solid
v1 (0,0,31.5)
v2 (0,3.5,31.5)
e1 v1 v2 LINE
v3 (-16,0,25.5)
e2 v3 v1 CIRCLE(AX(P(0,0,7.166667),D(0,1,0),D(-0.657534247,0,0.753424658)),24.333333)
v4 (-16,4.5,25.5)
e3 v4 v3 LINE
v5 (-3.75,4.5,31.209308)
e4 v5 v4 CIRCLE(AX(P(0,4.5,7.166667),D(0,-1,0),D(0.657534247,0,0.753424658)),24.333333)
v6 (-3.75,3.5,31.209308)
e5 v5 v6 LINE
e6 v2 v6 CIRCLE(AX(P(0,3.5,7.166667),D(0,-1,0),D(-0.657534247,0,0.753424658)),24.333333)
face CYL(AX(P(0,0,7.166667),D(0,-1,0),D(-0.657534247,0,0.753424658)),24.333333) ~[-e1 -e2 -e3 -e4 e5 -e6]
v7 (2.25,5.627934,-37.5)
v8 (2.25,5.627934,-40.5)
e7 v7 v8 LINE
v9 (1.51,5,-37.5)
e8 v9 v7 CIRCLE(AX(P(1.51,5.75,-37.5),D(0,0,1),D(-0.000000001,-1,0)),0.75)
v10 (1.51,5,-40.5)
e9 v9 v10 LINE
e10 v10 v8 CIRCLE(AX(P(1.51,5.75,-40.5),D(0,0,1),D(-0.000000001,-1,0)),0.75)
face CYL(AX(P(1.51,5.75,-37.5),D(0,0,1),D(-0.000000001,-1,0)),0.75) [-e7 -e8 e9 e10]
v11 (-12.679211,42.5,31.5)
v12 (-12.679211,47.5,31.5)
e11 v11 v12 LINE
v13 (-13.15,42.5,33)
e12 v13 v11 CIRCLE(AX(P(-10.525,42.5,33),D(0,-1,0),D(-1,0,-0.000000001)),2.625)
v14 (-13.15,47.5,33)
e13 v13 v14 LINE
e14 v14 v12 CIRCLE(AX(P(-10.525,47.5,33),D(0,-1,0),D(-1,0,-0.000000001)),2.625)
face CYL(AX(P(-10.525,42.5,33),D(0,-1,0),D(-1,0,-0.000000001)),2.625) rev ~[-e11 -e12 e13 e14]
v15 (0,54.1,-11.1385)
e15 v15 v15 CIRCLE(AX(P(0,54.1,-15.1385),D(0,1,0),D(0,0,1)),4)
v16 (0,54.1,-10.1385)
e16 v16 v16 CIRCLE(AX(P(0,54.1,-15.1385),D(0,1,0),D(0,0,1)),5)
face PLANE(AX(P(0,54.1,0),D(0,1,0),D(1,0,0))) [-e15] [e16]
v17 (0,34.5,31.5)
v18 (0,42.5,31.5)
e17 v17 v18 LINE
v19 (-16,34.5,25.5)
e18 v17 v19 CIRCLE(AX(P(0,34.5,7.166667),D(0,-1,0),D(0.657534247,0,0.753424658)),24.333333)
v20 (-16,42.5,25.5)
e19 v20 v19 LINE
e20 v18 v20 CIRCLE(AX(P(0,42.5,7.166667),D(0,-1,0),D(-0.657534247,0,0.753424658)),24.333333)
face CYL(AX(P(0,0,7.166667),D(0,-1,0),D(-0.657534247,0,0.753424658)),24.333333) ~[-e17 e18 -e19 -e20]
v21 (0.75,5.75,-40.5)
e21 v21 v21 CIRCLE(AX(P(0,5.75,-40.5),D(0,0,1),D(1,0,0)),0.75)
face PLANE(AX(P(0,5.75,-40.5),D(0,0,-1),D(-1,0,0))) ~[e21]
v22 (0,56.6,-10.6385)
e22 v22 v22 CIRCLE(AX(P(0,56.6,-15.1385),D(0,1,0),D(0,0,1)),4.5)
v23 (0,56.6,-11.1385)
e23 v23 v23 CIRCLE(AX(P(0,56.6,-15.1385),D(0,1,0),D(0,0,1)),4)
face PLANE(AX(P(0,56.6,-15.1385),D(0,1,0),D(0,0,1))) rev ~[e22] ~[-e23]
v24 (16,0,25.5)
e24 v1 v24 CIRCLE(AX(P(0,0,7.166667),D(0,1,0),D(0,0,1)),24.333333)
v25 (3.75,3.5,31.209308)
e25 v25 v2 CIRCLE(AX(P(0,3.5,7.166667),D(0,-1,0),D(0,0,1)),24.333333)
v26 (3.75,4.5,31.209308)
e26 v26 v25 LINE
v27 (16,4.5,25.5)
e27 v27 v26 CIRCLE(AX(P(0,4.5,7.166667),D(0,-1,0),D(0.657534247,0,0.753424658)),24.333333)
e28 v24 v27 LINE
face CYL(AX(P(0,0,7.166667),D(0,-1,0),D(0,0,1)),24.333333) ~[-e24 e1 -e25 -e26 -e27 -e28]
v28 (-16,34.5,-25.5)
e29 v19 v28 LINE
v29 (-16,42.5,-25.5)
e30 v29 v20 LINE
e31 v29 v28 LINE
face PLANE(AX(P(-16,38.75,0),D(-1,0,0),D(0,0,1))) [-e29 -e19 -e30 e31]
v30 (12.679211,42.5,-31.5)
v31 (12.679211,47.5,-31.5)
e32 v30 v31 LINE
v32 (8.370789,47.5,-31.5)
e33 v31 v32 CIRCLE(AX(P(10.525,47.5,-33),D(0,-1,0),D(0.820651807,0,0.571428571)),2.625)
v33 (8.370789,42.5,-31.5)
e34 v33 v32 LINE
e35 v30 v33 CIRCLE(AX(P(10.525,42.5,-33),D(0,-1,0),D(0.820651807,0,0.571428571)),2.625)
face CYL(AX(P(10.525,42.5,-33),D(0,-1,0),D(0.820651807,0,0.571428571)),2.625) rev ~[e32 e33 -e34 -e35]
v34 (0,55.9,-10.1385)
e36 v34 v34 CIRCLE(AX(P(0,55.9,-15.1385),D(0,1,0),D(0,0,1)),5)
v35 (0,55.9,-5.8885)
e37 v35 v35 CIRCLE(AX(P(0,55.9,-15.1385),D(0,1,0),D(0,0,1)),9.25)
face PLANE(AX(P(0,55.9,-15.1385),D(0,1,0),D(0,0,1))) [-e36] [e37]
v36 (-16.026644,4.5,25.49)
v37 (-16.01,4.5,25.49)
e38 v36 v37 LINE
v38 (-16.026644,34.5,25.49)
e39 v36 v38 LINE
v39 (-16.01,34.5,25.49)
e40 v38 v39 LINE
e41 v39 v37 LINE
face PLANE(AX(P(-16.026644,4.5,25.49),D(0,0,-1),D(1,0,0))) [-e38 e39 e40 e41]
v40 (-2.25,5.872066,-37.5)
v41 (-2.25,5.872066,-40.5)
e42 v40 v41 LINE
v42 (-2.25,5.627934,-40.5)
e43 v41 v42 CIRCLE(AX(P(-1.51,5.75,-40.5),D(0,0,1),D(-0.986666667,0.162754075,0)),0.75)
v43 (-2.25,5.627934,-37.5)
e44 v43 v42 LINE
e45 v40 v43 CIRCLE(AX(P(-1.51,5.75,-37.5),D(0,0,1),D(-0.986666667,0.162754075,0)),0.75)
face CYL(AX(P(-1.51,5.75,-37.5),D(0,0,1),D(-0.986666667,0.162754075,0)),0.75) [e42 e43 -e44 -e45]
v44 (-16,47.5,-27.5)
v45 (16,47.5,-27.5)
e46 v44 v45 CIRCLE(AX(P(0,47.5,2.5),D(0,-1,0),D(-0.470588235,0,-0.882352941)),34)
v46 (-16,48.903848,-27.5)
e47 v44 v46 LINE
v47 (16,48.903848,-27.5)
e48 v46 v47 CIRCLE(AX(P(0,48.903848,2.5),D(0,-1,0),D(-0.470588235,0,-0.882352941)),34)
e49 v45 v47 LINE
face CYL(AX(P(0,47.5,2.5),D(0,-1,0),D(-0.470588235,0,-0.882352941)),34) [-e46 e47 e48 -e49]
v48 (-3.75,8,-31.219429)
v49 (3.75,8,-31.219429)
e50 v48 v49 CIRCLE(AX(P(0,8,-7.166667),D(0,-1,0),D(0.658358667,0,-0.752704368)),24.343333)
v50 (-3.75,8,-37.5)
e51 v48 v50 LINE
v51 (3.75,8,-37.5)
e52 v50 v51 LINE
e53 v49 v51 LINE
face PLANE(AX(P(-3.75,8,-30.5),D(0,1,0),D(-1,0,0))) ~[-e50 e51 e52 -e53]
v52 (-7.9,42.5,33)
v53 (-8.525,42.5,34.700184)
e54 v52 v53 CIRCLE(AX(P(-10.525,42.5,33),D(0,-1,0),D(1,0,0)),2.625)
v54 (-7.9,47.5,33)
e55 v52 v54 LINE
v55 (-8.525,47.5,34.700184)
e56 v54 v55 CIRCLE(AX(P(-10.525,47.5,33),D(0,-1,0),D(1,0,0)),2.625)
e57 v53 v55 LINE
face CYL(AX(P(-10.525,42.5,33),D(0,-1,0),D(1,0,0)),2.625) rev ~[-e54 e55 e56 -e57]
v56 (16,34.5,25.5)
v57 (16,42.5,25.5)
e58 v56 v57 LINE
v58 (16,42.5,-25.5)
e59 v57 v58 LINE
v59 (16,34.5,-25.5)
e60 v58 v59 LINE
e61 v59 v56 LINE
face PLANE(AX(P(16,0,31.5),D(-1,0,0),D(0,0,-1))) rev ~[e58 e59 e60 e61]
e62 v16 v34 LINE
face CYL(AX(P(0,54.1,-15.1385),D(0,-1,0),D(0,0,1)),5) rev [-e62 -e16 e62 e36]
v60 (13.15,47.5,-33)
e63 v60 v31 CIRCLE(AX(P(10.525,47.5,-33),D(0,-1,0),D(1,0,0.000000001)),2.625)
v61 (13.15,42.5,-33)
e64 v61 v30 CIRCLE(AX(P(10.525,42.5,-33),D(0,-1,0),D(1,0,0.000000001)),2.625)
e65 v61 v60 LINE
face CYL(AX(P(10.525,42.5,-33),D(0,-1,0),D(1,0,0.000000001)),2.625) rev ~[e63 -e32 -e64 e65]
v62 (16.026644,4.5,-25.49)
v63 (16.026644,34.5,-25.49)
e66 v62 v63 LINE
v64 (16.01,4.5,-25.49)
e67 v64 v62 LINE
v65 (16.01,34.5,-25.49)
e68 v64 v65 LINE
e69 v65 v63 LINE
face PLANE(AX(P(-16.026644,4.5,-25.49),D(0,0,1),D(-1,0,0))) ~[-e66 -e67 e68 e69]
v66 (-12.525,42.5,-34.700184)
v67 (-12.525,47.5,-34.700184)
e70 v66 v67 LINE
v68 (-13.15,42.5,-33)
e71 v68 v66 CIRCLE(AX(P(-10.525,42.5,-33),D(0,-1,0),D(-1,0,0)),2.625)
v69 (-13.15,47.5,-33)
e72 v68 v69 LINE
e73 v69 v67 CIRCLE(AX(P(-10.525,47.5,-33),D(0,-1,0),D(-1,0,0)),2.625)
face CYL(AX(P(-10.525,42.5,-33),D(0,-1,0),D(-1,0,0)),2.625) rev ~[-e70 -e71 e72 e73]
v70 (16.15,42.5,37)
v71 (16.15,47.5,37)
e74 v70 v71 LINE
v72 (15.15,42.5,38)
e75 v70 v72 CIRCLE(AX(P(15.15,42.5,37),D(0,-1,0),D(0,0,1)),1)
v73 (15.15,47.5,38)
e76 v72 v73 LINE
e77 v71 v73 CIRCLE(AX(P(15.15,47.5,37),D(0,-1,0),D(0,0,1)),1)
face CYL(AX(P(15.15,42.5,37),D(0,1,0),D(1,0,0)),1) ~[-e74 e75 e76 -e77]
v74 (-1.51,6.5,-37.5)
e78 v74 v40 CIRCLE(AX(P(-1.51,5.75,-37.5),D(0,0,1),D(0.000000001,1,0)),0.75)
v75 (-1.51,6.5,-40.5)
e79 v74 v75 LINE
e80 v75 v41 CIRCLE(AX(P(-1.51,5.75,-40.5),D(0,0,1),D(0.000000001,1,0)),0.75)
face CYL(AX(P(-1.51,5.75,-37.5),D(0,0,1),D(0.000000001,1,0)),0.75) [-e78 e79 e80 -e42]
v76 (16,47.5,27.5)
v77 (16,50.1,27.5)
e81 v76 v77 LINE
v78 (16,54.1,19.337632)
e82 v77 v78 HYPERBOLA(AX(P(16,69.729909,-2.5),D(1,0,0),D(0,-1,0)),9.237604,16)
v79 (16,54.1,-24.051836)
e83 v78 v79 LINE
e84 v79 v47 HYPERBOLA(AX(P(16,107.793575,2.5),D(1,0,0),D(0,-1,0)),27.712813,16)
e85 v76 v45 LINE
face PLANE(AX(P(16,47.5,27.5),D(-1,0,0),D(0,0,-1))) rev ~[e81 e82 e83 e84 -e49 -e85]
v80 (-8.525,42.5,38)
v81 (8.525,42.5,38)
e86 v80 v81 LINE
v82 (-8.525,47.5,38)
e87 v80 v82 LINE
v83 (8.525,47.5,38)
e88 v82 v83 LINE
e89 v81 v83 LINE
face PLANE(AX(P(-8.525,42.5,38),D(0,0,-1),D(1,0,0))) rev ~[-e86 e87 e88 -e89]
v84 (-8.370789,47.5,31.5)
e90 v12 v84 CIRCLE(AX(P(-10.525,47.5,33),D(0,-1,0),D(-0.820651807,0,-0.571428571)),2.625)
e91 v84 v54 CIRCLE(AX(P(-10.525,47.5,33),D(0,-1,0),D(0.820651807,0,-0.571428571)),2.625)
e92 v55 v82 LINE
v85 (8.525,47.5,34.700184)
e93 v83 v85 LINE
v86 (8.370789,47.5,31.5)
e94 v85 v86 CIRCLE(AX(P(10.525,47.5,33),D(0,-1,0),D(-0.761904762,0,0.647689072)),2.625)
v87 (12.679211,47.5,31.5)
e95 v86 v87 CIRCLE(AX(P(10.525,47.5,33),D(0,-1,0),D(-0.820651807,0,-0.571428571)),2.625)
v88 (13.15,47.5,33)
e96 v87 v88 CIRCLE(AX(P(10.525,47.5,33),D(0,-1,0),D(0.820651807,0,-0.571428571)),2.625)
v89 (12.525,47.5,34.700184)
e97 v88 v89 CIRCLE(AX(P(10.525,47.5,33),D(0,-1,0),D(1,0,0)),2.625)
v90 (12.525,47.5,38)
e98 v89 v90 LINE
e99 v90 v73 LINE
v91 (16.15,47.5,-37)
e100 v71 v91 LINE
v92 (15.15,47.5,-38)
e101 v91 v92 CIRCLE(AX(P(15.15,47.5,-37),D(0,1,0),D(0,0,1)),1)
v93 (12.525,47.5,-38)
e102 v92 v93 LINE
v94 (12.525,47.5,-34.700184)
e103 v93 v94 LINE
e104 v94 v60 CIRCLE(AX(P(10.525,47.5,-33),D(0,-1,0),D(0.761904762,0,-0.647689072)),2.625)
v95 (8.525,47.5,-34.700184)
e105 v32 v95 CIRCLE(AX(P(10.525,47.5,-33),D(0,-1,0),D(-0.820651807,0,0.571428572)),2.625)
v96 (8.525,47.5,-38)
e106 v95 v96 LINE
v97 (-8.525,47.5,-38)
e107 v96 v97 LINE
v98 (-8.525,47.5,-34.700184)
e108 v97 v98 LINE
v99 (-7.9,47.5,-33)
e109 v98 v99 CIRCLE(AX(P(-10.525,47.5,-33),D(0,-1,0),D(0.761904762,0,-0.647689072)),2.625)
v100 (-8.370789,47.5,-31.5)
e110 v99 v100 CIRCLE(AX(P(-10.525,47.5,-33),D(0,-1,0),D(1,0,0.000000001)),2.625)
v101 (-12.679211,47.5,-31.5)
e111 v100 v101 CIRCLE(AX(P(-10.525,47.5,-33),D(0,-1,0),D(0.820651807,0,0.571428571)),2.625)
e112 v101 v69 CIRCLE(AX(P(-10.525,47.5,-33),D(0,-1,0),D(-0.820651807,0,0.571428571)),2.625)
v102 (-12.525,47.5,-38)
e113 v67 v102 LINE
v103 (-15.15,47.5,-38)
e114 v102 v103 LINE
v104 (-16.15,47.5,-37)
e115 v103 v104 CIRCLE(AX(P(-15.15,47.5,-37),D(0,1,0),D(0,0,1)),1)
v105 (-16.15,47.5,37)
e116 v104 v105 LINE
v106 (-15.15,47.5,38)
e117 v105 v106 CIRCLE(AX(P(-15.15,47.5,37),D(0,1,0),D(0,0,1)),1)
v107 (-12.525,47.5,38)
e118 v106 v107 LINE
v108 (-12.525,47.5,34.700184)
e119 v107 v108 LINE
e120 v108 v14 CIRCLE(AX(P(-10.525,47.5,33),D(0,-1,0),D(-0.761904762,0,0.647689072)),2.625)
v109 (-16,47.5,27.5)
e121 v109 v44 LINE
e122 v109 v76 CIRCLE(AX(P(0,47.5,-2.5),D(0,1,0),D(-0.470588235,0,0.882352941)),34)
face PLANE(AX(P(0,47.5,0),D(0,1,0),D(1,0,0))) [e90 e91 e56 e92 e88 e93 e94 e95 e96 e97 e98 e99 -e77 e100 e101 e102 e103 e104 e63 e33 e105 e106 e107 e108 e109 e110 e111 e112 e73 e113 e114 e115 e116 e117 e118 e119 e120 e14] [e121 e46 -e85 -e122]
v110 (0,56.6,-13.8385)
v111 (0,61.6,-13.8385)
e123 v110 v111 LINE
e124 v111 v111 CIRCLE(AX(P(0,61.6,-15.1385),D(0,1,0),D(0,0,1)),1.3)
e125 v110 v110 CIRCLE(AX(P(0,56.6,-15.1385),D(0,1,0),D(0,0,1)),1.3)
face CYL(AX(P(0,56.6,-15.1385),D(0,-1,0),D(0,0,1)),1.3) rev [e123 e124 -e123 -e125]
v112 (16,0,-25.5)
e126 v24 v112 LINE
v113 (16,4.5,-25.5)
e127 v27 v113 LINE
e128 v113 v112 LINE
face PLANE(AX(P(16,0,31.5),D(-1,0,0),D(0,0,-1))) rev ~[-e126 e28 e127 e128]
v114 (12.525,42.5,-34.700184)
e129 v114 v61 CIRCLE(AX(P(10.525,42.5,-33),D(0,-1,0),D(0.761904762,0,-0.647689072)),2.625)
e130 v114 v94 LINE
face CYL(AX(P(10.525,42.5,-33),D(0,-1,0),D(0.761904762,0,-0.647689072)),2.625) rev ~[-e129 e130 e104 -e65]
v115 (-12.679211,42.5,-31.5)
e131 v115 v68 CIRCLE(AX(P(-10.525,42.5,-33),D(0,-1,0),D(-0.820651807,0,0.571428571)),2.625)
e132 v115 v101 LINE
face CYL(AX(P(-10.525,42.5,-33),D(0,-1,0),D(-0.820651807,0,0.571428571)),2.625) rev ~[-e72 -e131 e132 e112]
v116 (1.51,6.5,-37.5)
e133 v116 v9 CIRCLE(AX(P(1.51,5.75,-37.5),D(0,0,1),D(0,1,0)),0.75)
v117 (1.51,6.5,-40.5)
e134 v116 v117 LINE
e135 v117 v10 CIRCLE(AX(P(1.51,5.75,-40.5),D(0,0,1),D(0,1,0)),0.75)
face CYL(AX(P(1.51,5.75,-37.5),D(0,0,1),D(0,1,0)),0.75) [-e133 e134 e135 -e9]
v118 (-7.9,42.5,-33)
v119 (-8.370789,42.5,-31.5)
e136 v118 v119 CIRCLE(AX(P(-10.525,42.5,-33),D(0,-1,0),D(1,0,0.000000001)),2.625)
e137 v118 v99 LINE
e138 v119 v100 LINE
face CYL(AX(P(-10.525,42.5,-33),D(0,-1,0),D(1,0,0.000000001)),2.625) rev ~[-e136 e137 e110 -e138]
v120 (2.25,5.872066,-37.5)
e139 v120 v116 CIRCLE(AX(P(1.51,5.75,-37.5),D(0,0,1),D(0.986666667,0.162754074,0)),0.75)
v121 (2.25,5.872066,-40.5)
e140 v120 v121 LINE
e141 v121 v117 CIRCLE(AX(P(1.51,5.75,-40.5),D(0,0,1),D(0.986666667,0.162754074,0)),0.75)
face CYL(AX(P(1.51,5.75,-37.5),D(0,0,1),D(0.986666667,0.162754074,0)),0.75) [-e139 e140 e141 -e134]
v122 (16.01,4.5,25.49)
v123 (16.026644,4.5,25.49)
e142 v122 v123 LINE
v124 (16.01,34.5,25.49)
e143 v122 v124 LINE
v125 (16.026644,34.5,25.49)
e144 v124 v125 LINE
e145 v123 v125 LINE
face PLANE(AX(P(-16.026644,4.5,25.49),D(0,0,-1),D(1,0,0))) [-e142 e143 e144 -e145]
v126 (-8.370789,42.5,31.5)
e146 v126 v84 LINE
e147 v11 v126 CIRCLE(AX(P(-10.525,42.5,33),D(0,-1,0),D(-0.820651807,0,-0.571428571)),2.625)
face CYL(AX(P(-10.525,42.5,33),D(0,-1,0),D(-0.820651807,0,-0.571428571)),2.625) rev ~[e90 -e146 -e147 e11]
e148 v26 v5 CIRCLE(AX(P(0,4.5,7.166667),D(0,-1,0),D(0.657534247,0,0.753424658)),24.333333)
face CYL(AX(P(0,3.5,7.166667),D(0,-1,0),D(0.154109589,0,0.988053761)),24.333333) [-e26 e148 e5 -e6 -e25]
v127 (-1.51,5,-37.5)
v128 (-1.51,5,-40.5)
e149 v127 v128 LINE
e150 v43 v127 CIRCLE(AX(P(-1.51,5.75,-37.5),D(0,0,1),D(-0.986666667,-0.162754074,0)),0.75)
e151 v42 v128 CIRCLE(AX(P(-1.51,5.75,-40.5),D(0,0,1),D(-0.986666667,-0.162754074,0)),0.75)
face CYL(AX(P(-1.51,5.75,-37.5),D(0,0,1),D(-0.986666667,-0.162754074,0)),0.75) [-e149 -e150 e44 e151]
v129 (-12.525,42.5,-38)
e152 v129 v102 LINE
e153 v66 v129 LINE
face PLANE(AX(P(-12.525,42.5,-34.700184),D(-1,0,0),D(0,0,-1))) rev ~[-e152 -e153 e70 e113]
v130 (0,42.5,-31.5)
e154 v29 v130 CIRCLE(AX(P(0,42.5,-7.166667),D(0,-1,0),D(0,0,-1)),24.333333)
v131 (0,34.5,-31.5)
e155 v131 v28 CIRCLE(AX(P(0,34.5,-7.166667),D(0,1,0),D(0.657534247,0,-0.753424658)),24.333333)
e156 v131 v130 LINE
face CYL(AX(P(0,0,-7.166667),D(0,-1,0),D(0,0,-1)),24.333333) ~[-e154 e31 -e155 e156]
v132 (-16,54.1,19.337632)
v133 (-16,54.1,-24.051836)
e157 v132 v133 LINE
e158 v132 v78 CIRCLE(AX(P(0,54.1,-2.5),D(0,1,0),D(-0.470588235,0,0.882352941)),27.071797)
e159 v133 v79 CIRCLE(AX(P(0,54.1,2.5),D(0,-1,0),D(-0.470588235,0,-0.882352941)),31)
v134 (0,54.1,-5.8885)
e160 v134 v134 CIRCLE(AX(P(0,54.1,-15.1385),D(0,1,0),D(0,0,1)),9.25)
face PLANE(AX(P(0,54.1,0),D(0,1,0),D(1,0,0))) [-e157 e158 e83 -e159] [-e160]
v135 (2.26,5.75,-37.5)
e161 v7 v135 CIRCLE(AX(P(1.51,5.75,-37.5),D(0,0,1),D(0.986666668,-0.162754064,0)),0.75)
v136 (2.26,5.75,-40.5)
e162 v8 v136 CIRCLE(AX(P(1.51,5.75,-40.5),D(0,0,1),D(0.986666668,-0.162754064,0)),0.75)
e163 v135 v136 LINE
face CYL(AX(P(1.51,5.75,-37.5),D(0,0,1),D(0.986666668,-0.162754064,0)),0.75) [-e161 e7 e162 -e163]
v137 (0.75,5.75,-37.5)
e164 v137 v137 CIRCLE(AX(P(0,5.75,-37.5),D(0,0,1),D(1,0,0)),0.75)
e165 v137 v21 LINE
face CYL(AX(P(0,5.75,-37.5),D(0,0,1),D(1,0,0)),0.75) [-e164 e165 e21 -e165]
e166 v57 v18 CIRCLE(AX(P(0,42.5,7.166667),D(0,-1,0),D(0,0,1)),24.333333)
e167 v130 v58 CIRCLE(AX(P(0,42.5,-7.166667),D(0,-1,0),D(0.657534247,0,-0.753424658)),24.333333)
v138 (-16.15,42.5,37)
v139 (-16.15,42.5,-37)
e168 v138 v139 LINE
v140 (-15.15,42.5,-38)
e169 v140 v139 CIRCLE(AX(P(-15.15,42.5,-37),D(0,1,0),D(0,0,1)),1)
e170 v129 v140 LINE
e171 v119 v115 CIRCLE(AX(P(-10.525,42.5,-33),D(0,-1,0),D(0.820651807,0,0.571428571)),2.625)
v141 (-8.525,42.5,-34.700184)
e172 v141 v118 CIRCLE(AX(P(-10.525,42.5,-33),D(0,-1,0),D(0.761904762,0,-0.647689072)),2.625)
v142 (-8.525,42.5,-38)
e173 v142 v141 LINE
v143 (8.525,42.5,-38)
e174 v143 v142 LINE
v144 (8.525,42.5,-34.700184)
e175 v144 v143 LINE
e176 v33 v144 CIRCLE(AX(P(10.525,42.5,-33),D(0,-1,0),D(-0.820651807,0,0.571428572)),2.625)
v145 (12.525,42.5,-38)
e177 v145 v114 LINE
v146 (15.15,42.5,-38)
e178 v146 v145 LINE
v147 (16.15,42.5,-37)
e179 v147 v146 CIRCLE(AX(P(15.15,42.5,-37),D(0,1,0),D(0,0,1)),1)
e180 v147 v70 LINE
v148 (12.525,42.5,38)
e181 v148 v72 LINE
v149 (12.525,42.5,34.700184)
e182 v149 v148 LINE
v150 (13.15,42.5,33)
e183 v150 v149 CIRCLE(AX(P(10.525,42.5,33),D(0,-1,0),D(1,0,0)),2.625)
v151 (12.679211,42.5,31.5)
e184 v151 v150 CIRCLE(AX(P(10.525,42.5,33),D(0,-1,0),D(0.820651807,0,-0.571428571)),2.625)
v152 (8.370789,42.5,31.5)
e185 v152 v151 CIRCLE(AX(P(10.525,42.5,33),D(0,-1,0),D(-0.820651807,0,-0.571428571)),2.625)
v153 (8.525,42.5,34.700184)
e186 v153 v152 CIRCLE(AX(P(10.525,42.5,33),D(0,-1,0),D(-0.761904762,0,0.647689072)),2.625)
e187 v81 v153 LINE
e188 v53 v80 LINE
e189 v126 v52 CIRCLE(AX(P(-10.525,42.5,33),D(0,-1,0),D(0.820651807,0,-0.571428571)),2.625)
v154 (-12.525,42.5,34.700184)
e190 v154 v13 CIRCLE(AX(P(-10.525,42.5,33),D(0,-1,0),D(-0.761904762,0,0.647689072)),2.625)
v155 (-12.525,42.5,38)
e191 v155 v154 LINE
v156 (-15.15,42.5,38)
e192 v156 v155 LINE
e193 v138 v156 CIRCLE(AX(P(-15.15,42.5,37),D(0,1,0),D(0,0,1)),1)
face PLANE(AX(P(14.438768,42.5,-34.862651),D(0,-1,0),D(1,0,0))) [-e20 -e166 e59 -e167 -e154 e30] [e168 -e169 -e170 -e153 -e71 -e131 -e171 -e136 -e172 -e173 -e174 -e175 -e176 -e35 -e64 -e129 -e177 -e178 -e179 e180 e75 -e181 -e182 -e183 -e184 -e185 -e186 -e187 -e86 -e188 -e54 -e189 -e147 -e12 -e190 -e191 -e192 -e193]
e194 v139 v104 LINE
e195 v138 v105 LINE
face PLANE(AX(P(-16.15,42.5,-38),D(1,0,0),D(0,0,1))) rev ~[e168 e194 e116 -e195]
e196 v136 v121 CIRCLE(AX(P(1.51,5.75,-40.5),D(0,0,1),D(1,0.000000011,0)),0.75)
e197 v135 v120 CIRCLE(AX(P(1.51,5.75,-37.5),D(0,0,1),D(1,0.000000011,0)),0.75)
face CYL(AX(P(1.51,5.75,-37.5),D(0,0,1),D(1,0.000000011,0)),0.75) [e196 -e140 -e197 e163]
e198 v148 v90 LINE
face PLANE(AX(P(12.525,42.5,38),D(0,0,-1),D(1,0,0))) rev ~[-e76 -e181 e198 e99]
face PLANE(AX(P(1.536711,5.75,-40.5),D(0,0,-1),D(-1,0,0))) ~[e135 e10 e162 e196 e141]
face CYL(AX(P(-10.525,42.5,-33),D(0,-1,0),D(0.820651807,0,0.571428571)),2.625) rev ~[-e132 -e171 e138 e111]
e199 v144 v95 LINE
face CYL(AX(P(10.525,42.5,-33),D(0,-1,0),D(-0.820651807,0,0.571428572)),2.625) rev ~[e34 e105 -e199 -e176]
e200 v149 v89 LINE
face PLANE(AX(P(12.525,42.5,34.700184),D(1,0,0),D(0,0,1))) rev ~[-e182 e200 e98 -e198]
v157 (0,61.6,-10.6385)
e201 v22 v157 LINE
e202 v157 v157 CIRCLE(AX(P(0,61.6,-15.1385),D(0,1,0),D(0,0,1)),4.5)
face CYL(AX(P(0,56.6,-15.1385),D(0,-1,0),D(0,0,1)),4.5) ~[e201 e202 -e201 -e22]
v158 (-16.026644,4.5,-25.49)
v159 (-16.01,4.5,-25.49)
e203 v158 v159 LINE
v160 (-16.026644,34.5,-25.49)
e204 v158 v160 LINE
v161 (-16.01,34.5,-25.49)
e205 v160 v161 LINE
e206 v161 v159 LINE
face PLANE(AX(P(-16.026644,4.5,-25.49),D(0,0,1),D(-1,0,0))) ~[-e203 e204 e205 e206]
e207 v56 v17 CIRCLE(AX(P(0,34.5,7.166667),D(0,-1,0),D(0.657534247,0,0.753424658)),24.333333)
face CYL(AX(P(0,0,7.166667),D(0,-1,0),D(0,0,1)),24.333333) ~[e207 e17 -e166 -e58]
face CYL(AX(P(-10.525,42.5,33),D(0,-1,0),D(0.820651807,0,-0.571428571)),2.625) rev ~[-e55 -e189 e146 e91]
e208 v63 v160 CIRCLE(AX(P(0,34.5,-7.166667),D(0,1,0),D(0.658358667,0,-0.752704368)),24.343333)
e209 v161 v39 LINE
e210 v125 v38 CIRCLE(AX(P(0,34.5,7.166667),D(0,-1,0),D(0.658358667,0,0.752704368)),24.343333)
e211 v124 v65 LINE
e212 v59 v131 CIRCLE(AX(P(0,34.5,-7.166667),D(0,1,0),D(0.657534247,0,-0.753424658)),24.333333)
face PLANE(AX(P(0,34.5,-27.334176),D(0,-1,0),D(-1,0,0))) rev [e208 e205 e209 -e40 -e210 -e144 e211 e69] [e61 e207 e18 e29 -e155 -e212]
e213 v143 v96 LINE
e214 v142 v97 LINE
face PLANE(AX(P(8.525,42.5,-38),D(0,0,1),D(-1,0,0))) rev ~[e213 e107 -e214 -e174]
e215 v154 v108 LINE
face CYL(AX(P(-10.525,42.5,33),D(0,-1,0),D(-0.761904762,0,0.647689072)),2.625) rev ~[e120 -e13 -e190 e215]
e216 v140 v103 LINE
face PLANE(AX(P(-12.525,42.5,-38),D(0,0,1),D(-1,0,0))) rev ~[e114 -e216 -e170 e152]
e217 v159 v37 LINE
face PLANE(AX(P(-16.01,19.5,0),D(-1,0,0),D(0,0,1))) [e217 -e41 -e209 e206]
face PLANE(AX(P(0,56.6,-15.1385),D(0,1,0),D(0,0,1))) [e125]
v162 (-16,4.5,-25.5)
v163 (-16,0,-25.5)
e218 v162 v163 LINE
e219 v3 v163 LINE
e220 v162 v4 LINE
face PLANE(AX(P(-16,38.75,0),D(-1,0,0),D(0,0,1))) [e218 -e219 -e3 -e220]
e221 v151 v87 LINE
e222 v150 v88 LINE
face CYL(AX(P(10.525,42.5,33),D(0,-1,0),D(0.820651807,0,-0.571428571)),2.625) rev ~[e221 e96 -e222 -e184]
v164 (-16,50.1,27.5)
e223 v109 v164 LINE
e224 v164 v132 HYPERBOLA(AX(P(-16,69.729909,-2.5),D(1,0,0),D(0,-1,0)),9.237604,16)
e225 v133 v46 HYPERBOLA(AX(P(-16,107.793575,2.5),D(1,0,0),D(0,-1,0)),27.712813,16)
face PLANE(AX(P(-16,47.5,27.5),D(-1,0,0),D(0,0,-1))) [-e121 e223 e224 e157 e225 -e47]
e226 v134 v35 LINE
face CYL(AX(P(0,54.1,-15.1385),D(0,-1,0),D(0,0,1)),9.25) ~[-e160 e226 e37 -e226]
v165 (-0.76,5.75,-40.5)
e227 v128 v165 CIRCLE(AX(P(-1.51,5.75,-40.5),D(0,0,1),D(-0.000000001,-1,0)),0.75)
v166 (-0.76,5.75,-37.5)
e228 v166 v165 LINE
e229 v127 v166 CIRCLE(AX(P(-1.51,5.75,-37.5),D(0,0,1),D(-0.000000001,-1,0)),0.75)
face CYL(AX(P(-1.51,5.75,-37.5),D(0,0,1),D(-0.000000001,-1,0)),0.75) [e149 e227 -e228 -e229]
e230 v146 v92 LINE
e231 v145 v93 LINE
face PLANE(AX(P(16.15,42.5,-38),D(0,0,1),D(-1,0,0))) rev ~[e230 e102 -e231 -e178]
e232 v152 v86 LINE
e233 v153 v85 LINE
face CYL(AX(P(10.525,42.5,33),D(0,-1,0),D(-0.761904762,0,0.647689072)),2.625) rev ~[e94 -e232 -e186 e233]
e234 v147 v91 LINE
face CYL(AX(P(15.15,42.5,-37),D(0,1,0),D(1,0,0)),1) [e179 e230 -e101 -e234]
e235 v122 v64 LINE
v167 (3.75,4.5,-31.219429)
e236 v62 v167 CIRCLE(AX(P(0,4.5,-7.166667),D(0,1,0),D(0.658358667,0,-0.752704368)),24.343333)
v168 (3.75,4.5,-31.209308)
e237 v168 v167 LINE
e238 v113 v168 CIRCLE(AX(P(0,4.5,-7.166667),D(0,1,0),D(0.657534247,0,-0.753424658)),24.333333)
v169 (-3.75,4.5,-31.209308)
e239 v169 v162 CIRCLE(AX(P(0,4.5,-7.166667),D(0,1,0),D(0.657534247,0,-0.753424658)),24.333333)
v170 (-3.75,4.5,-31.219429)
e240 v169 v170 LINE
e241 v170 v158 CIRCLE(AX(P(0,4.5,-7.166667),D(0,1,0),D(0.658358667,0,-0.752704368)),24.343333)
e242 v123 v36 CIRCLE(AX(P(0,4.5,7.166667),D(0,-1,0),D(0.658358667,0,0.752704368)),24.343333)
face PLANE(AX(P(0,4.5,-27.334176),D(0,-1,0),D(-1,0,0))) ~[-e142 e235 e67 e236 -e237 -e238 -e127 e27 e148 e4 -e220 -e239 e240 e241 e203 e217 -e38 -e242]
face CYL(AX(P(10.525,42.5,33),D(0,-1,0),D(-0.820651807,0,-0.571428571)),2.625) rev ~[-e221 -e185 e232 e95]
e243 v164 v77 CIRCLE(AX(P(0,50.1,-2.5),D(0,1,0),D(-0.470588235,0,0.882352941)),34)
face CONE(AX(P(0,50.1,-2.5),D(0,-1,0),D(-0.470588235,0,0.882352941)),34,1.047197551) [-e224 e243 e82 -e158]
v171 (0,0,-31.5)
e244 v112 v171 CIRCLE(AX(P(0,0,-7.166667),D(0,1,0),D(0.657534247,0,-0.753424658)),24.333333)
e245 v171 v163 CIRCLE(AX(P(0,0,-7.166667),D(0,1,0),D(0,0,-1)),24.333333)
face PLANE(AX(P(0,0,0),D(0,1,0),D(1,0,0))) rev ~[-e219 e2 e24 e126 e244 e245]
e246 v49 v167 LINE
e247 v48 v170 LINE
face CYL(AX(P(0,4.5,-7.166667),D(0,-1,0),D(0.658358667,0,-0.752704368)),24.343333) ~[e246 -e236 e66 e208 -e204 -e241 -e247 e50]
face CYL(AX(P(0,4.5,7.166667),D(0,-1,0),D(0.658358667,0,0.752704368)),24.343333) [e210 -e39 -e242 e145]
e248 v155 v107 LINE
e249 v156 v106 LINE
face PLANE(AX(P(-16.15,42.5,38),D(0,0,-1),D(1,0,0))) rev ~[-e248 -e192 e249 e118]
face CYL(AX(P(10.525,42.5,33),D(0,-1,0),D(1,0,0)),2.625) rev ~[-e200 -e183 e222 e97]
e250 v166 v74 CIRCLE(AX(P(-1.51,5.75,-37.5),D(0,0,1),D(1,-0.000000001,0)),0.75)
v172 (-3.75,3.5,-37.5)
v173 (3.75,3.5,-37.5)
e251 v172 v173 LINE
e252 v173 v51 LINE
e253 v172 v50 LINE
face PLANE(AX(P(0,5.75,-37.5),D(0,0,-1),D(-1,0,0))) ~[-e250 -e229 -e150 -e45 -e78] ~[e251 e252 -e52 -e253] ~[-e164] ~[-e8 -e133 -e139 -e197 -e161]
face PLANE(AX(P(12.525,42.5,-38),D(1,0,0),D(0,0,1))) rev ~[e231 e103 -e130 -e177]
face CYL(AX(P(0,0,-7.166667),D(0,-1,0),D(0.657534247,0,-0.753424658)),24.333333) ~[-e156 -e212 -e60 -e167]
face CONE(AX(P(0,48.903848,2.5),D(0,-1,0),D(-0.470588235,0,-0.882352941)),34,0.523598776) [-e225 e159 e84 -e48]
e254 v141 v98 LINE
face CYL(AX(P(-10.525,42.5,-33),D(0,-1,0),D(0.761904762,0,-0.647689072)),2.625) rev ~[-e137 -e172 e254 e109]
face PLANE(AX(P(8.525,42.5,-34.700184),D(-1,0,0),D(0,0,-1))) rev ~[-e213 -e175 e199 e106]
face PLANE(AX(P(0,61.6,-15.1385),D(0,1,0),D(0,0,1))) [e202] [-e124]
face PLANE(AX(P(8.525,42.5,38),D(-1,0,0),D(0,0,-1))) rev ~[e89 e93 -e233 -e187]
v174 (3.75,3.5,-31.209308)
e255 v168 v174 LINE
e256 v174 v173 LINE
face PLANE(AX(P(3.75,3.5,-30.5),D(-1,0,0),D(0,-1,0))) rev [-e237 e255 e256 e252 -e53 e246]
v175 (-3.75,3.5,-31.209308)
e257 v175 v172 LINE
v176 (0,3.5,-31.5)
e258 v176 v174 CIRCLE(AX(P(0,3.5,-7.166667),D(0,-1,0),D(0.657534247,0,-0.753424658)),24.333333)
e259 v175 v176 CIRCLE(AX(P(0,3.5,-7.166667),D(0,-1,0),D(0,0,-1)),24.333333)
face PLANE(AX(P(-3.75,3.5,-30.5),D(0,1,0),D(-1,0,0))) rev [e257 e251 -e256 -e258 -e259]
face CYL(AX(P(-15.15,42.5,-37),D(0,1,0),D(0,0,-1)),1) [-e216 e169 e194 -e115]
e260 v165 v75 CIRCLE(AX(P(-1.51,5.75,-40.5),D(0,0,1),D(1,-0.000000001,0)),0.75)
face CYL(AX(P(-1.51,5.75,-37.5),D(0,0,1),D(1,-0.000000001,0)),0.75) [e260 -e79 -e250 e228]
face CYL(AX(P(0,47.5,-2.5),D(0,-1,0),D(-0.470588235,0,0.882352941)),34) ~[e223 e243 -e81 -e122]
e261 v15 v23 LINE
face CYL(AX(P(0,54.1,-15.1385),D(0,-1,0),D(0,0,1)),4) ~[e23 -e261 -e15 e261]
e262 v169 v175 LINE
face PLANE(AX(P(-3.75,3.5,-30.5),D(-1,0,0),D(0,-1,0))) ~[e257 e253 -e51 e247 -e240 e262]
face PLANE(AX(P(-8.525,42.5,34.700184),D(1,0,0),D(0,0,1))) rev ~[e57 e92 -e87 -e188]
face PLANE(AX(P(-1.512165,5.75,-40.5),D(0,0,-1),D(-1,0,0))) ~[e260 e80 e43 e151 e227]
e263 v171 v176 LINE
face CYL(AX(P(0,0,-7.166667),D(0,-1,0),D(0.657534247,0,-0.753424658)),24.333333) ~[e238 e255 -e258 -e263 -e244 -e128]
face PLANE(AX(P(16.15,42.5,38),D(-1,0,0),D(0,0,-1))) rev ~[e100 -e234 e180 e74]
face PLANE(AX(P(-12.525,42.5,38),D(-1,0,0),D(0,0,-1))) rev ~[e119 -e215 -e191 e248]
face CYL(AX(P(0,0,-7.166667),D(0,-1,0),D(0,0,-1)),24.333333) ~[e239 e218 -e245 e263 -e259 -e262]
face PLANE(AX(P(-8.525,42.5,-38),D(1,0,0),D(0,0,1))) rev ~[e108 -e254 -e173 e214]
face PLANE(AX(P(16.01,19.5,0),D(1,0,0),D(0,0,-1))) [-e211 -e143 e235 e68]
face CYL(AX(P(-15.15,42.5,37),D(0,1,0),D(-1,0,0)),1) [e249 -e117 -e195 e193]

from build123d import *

# Parameters (mm, degrees)
SKETCH1_W            = 32
SKETCH1_H            = 63
BOSS_EXTRUDE1_DEPTH  = 35
SKETCH2_W            = 33
SKETCH2_H            = 63
BOSS_EXTRUDE2_DEPTH  = 7.5
BOSS_EXTRUDE3_DEPTH  = 5
CUT_EXTRUDE2_REACH   = 65.028
SKETCH6_W            = 63
SKETCH6_H            = 7.5
CUT_EXTRUDE3_DEPTH   = 0.5
SKETCH7_W            = 63
SKETCH7_H            = 7.5
CUT_EXTRUDE4_DEPTH   = 0.5
SKETCH8_W            = 32
SKETCH8_H            = 55
BOSS_EXTRUDE4_DEPTH  = 6.6
SKETCH9_R            = 9.25
SKETCH9_R_2          = 5
BOSS_EXTRUDE5_DEPTH  = 1.8
SKETCH10_R           = 4
BOSS_EXTRUDE6_DEPTH  = 2.5
SKETCH11_R           = 4.5
SKETCH11_R_2         = 1.3
BOSS_EXTRUDE7_DEPTH  = 5
BOSS_EXTRUDE8_START  = 30.5
SKETCH12_W           = 7.5
SKETCH12_H           = 4.5
BOSS_EXTRUDE8_DEPTH  = 7
SKETCH13_R           = 0.75
BOSS_EXTRUDE11_DEPTH = 3
SKETCH14_W           = 51
SKETCH14_H           = 30
BOSS_EXTRUDE12_DEPTH = 0.01
SKETCH15_W           = 51
SKETCH15_H           = 30
BOSS_EXTRUDE13_DEPTH = 0.01
CHAMFER1_SIZE        = 4
CHAMFER1_SIZE2       = 6.92820323
CHAMFER2_SIZE        = 3
CHAMFER2_SIZE2       = 5.196152423
CUT_EXTRUDE7_DEPTH   = 4.5
BOSS_EXTRUDE15_START = -4.5
BOSS_EXTRUDE15_DEPTH = 30
FILLET3_R            = 1


with BuildPart() as part:
    # Sketch1 → Boss-Extrude1 (new body)
    with BuildSketch(Plane(origin=(0, 0, 0), x_dir=(1, 0, 0), z_dir=(0, 1, 0))):
        Rectangle(SKETCH1_W, SKETCH1_H)
    extrude(amount=BOSS_EXTRUDE1_DEPTH)

    # Sketch2 → Boss-Extrude2 (add)
    with BuildSketch(Plane(origin=(0, 35, 0), x_dir=(1, 0, 0), z_dir=(0, 1, 0))):
        Rectangle(SKETCH2_W, SKETCH2_H)
    extrude(amount=BOSS_EXTRUDE2_DEPTH)

    # Sketch4 → Boss-Extrude3 (add)
    with BuildSketch(Plane(origin=(0, 42.5, 0), x_dir=(1, 0, 0), z_dir=(0, 1, 0))):
        with BuildLine():
            ThreePointArc((8.370789008, -31.5), (10.525, -30.375), (12.679210992, -31.5))
            Line((12.679210992, -31.5), (16.15, -31.5))
            Line((16.15, -31.5), (16.15, 31.5))
            Line((16.15, 31.5), (12.679210992, 31.5))
            ThreePointArc((12.679210992, 31.5), (10.525, 30.375), (8.370789008, 31.5))
            Line((8.370789008, 31.5), (-8.370789008, 31.5))
            ThreePointArc((-8.370789008, 31.5), (-10.525, 30.375), (-12.679210992, 31.5))
            Line((-12.679210992, 31.5), (-16.15, 31.5))
            Line((-16.15, 31.5), (-16.15, -31.5))
            Line((-16.15, -31.5), (-12.679210992, -31.5))
            ThreePointArc((-12.679210992, -31.5), (-10.525, -30.375), (-8.370789008, -31.5))
            Line((-8.370789008, -31.5), (8.370789008, -31.5))
        make_face()
        with BuildLine():
            Line((8.525, -38), (8.525, -34.700183814))
            ThreePointArc((8.525, -34.700183814), (7.903042458, -33.126347328), (8.370789008, -31.5))
            Line((8.370789008, -31.5), (-8.370789008, -31.5))
            ThreePointArc((-8.370789008, -31.5), (-8.020461235, -32.21392712), (-7.9, -33))
            ThreePointArc((-7.9, -33), (-8.061199582, -33.905711047), (-8.525, -34.700183814))
            Line((-8.525, -34.700183814), (-8.525, -38))
            Line((-8.525, -38), (8.525, -38))
        make_face()
        with BuildLine():
            ThreePointArc((12.679210992, -31.5), (13.029538765, -32.21392712), (13.15, -33))
            Line((13.15, -33), (16.15, -33))
            Line((16.15, -33), (16.15, -31.5))
            Line((16.15, -31.5), (12.679210992, -31.5))
        make_face()
        with BuildLine():
            Line((16.15, -33), (13.15, -33))
            ThreePointArc((13.15, -33), (12.988800418, -33.905711047), (12.525, -34.700183814))
            Line((12.525, -34.700183814), (12.525, -38))
            Line((12.525, -38), (16.15, -38))
            Line((16.15, -38), (16.15, -33))
        make_face()
        with BuildLine():
            Line((-16.15, -38), (-12.525, -38))
            Line((-12.525, -38), (-12.525, -34.700183814))
            ThreePointArc((-12.525, -34.700183814), (-12.988800418, -33.905711047), (-13.15, -33))
            Line((-13.15, -33), (-16.15, -33))
            Line((-16.15, -33), (-16.15, -38))
        make_face()
        with BuildLine():
            ThreePointArc((-13.15, -33), (-13.029538765, -32.21392712), (-12.679210992, -31.5))
            Line((-12.679210992, -31.5), (-16.15, -31.5))
            Line((-16.15, -31.5), (-16.15, -33))
            Line((-16.15, -33), (-13.15, -33))
        make_face()
        with BuildLine():
            Line((13.15, 33), (16.15, 33))
            Line((16.15, 33), (16.15, 38))
            Line((16.15, 38), (12.525, 38))
            Line((12.525, 38), (12.525, 34.700183814))
            ThreePointArc((12.525, 34.700183814), (12.988800418, 33.905711047), (13.15, 33))
        make_face()
        with BuildLine():
            Line((12.679210992, 31.5), (16.15, 31.5))
            Line((16.15, 31.5), (16.15, 33))
            Line((16.15, 33), (13.15, 33))
            ThreePointArc((13.15, 33), (13.029538765, 32.21392712), (12.679210992, 31.5))
        make_face()
        with BuildLine():
            Line((-8.370789008, 31.5), (8.370789008, 31.5))
            ThreePointArc((8.370789008, 31.5), (7.903042458, 33.126347328), (8.525, 34.700183814))
            Line((8.525, 34.700183814), (8.525, 38))
            Line((8.525, 38), (-8.525, 38))
            Line((-8.525, 38), (-8.525, 34.700183814))
            ThreePointArc((-8.525, 34.700183814), (-8.061199582, 33.905711047), (-7.9, 33))
            ThreePointArc((-7.9, 33), (-8.020461235, 32.21392712), (-8.370789008, 31.5))
        make_face()
        with BuildLine():
            Line((-16.15, 33), (-16.15, 31.5))
            Line((-16.15, 31.5), (-12.679210992, 31.5))
            ThreePointArc((-12.679210992, 31.5), (-13.029538765, 32.21392712), (-13.15, 33))
            Line((-13.15, 33), (-16.15, 33))
        make_face()
        with BuildLine():
            Line((-16.15, 38), (-16.15, 33))
            Line((-16.15, 33), (-13.15, 33))
            ThreePointArc((-13.15, 33), (-12.988800418, 33.905711047), (-12.525, 34.700183814))
            Line((-12.525, 34.700183814), (-12.525, 38))
            Line((-12.525, 38), (-16.15, 38))
        make_face()
    extrude(amount=BOSS_EXTRUDE3_DEPTH)

    # Cut-Extrude2: up to this face of the body (flat: up to its plane)
    cut_extrude2_end = Plane(part.part.faces().sort_by_distance((14.438767606, 42.5, -34.862650995))[0])
    # Sketch5 → Cut-Extrude2 (cut, up to the picked face)
    with BuildSketch(Plane.XZ, mode=Mode.PRIVATE) as cut_extrude2_sk1:
        with BuildLine():
            ThreePointArc((0, 31.5), (8.544003745, 29.950676654), (16, 25.5))
            Line((16, 25.5), (16, 31.5))
            Line((16, 31.5), (0, 31.5))
        make_face()
    cut_extrude2_tool1 = split(extrude(cut_extrude2_sk1.sketch, amount=-CUT_EXTRUDE2_REACH, mode=Mode.PRIVATE), bisect_by=cut_extrude2_end, keep=Keep.BOTH, mode=Mode.PRIVATE)
    # Sketch5 → Cut-Extrude2 (cut, up to the picked face)
    with BuildSketch(Plane.XZ, mode=Mode.PRIVATE) as cut_extrude2_sk2:
        with BuildLine():
            Line((-16, 31.5), (-16, 25.5))
            ThreePointArc((-16, 25.5), (-8.544003745, 29.950676654), (0, 31.5))
            Line((0, 31.5), (-16, 31.5))
        make_face()
    cut_extrude2_tool2 = split(extrude(cut_extrude2_sk2.sketch, amount=-CUT_EXTRUDE2_REACH, mode=Mode.PRIVATE), bisect_by=cut_extrude2_end, keep=Keep.BOTH, mode=Mode.PRIVATE)
    # Sketch5 → Cut-Extrude2 (cut, up to the picked face)
    with BuildSketch(Plane.XZ, mode=Mode.PRIVATE) as cut_extrude2_sk3:
        with BuildLine():
            ThreePointArc((0, -31.5), (-8.544003745, -29.950676654), (-16, -25.5))
            Line((-16, -25.5), (-16, -31.5))
            Line((-16, -31.5), (0, -31.5))
        make_face()
    cut_extrude2_tool3 = split(extrude(cut_extrude2_sk3.sketch, amount=-CUT_EXTRUDE2_REACH, mode=Mode.PRIVATE), bisect_by=cut_extrude2_end, keep=Keep.BOTH, mode=Mode.PRIVATE)
    # Sketch5 → Cut-Extrude2 (cut, up to the picked face)
    with BuildSketch(Plane.XZ, mode=Mode.PRIVATE) as cut_extrude2_sk4:
        with BuildLine():
            Line((16, -31.5), (16, -25.5))
            ThreePointArc((16, -25.5), (8.544003745, -29.950676654), (0, -31.5))
            Line((0, -31.5), (16, -31.5))
        make_face()
    cut_extrude2_tool4 = split(extrude(cut_extrude2_sk4.sketch, amount=-CUT_EXTRUDE2_REACH, mode=Mode.PRIVATE), bisect_by=cut_extrude2_end, keep=Keep.BOTH, mode=Mode.PRIVATE)
    add(cut_extrude2_tool1.solids().sort_by(Axis((12.10535, 0, 29.74568), (0, 1, 0)))[0], mode=Mode.SUBTRACT)
    add(cut_extrude2_tool2.solids().sort_by(Axis((-12.10535, 0, 29.74568), (0, 1, 0)))[0], mode=Mode.SUBTRACT)
    add(cut_extrude2_tool3.solids().sort_by(Axis((-12.10535, 0, -29.74568), (0, 1, 0)))[0], mode=Mode.SUBTRACT)
    add(cut_extrude2_tool4.solids().sort_by(Axis((12.10535, 0, -29.74568), (0, 1, 0)))[0], mode=Mode.SUBTRACT)

    # Sketch6 → Cut-Extrude3 (cut)
    with BuildSketch(Plane.ZY.offset(16.5)):
        with Locations((0, 38.75)):
            Rectangle(SKETCH6_W, SKETCH6_H)
    extrude(amount=-CUT_EXTRUDE3_DEPTH, mode=Mode.SUBTRACT)

    # Sketch7 → Cut-Extrude4 (cut)
    with BuildSketch(Plane(origin=(16.5, 0, 0), x_dir=(0, 0, -1), z_dir=(1, 0, 0))):
        with Locations((0, 38.75)):
            Rectangle(SKETCH7_W, SKETCH7_H)
    extrude(amount=-CUT_EXTRUDE4_DEPTH, mode=Mode.SUBTRACT)

    # Sketch8 → Boss-Extrude4 (add)
    with BuildSketch(Plane(origin=(0, 47.5, 0), x_dir=(1, 0, 0), z_dir=(0, 1, 0))):
        Rectangle(SKETCH8_W, SKETCH8_H)
        with BuildLine():
            ThreePointArc((-16, 27.5), (0, 31.5), (16, 27.5))
            Line((16, 27.5), (-16, 27.5))
        make_face()
        with BuildLine():
            ThreePointArc((-16, -27.5), (0, -31.5), (16, -27.5))
            Line((16, -27.5), (-16, -27.5))
        make_face()
    extrude(amount=BOSS_EXTRUDE4_DEPTH)

    # Sketch9 → Boss-Extrude5 (add)
    with BuildSketch(Plane(origin=(0, 54.1, 0), x_dir=(1, 0, 0), z_dir=(0, 1, 0))):
        with Locations(Location((0, 15.138499844, 0), (0, 0, 270))):
            Circle(SKETCH9_R)
        with Locations(Location((0, 15.138499844, 0), (0, 0, 270))):
            Circle(SKETCH9_R_2, mode=Mode.SUBTRACT)
    extrude(amount=BOSS_EXTRUDE5_DEPTH)

    # Sketch10 → Boss-Extrude6 (add)
    with BuildSketch(Plane(origin=(0, 54.1, 0), x_dir=(1, 0, 0), z_dir=(0, 1, 0))):
        with Locations(Location((0, 15.138499844, 0), (0, 0, 270))):
            Circle(SKETCH10_R)
    extrude(amount=BOSS_EXTRUDE6_DEPTH)

    # Sketch11 → Boss-Extrude7 (add)
    with BuildSketch(Plane(origin=(0, 56.6, 0), x_dir=(1, 0, 0), z_dir=(0, 1, 0))):
        with Locations(Location((0, 15.138499844, 0), (0, 0, 270))):
            Circle(SKETCH11_R)
        with Locations(Location((0, 15.138499844, 0), (0, 0, 270))):
            Circle(SKETCH11_R_2, mode=Mode.SUBTRACT)
    extrude(amount=BOSS_EXTRUDE7_DEPTH)

    # Sketch12 → Boss-Extrude8 (add)
    with BuildSketch(Plane.XY.offset(BOSS_EXTRUDE8_START)):
        with Locations((0, 5.75)):
            Rectangle(SKETCH12_W, SKETCH12_H)
    boss_extrude8 = extrude(amount=BOSS_EXTRUDE8_DEPTH)

    # Sketch13 → Boss-Extrude11 (add)
    with BuildSketch(Plane.XY.offset(37.5)):
        with BuildLine():
            ThreePointArc((-0.76, 5.75), (-0.979669914, 6.280330086), (-1.51, 6.5))
            ThreePointArc((-1.51, 6.5), (-1.995258093, 6.321860633), (-2.25, 5.872065556))
            Line((-2.25, 5.872065556), (-2.25, 5.627934444))
            ThreePointArc((-2.25, 5.627934444), (-1.995258093, 5.178139367), (-1.51, 5))
            ThreePointArc((-1.51, 5), (-0.979669914, 5.219669914), (-0.76, 5.75))
        make_face()
        with BuildLine():
            Line((-2.25, 5.627934444), (-2.25, 5.872065556))
            ThreePointArc((-2.25, 5.872065556), (-2.26, 5.75), (-2.25, 5.627934444))
        make_face()
        with Locations((0, 5.75)):
            Circle(SKETCH13_R)
        with BuildLine():
            ThreePointArc((2.25, 5.872065556), (1.995258093, 6.321860633), (1.51, 6.5))
            ThreePointArc((1.51, 6.5), (0.76, 5.75), (1.51, 5))
            ThreePointArc((1.51, 5), (1.995258093, 5.178139367), (2.25, 5.627934444))
            Line((2.25, 5.627934444), (2.25, 5.872065556))
        make_face()
        with BuildLine():
            ThreePointArc((2.26, 5.75), (2.257495819, 5.811237244), (2.25, 5.872065556))
            Line((2.25, 5.872065556), (2.25, 5.627934444))
            ThreePointArc((2.25, 5.627934444), (2.257495819, 5.688762756), (2.26, 5.75))
        make_face()
    boss_extrude11 = extrude(amount=BOSS_EXTRUDE11_DEPTH)

    # Sketch14 → Boss-Extrude12 (add)
    with BuildSketch(Plane.ZY.offset(16)):
        with Locations((0, 19.5)):
            Rectangle(SKETCH14_W, SKETCH14_H)
    extrude(amount=BOSS_EXTRUDE12_DEPTH)

    # Sketch15 → Boss-Extrude13 (add)
    with BuildSketch(Plane(origin=(16, 0, 0), x_dir=(0, 0, -1), z_dir=(1, 0, 0))):
        with Locations((0, 19.5)):
            Rectangle(SKETCH15_W, SKETCH15_H)
    extrude(amount=BOSS_EXTRUDE13_DEPTH)

    # Chamfer1
    chamfer1_edges = [part.edges().sort_by_distance(p)[0] for p in [
        (0, 54.1, 31.5),
    ]]
    chamfer1_side = [part.faces().sort_by_distance(p)[0] for p in [
        (0, 50.8, 31.5),
    ]]
    chamfer(chamfer1_edges, length=CHAMFER1_SIZE, length2=CHAMFER1_SIZE2, reference=chamfer1_side[0])

    # Chamfer2
    chamfer2_edges = [part.edges().sort_by_distance(p)[0] for p in [
        (0, 54.1, -31.5),
    ]]
    chamfer2_side = [part.faces().sort_by_distance(p)[0] for p in [
        (0, 54.1, -1.479782265),
    ]]
    chamfer(chamfer2_edges, length=CHAMFER2_SIZE, length2=CHAMFER2_SIZE2, reference=chamfer2_side[0])

    # Sketch19 → Cut-Extrude7 (cut)
    with BuildSketch(Plane.XZ.offset(-3.5)):
        with BuildLine():
            Line((-3.75, 37.5), (-3.75, 43.994534201))
            Line((-3.75, 43.994534201), (6.56874326, 45.419267567))
            Line((6.56874326, 45.419267567), (3.75, 37.5))
            Line((3.75, 37.5), (3.75, 31.209308184))
            ThreePointArc((3.75, 31.209308184), (0, 31.5), (-3.75, 31.209308184))
            Line((-3.75, 31.209308184), (-3.75, 37.5))
        make_face()
    extrude(amount=-CUT_EXTRUDE7_DEPTH, mode=Mode.SUBTRACT)

    # Sketch17 → Boss-Extrude15 (add)
    with BuildSketch(Plane.XZ.offset(BOSS_EXTRUDE15_START)):
        with BuildLine():
            Line((-16.026644481, 25.49), (16.026644481, 25.49))
            ThreePointArc((16.026644481, 25.49), (0, 31.51), (-16.026644481, 25.49))
        make_face()
        with BuildLine():
            Line((-16, 25.5), (16, 25.5))
            ThreePointArc((16, 25.5), (0, 31.5), (-16, 25.5))
        make_face(mode=Mode.SUBTRACT)
    boss_extrude15 = extrude(amount=-BOSS_EXTRUDE15_DEPTH)

    # Mirror1: Boss-Extrude15 across plane
    add(boss_extrude15.mirror(Plane.XY))

    # Fillet3
    fillet3_edges = [part.edges().sort_by_distance(p)[0] for p in [
        (-16.15, 45, -38),
        (-16.15, 45, 38),
        (16.15, 45, 38),
        (16.15, 45, -38),
    ]]
    fillet(fillet3_edges, radius=FILLET3_R)

    # Mirror2: Boss-Extrude8, Boss-Extrude11 across plane
    add(boss_extrude8.mirror(Plane.XY))
    add(boss_extrude11.mirror(Plane.XY))


solid = part.part
